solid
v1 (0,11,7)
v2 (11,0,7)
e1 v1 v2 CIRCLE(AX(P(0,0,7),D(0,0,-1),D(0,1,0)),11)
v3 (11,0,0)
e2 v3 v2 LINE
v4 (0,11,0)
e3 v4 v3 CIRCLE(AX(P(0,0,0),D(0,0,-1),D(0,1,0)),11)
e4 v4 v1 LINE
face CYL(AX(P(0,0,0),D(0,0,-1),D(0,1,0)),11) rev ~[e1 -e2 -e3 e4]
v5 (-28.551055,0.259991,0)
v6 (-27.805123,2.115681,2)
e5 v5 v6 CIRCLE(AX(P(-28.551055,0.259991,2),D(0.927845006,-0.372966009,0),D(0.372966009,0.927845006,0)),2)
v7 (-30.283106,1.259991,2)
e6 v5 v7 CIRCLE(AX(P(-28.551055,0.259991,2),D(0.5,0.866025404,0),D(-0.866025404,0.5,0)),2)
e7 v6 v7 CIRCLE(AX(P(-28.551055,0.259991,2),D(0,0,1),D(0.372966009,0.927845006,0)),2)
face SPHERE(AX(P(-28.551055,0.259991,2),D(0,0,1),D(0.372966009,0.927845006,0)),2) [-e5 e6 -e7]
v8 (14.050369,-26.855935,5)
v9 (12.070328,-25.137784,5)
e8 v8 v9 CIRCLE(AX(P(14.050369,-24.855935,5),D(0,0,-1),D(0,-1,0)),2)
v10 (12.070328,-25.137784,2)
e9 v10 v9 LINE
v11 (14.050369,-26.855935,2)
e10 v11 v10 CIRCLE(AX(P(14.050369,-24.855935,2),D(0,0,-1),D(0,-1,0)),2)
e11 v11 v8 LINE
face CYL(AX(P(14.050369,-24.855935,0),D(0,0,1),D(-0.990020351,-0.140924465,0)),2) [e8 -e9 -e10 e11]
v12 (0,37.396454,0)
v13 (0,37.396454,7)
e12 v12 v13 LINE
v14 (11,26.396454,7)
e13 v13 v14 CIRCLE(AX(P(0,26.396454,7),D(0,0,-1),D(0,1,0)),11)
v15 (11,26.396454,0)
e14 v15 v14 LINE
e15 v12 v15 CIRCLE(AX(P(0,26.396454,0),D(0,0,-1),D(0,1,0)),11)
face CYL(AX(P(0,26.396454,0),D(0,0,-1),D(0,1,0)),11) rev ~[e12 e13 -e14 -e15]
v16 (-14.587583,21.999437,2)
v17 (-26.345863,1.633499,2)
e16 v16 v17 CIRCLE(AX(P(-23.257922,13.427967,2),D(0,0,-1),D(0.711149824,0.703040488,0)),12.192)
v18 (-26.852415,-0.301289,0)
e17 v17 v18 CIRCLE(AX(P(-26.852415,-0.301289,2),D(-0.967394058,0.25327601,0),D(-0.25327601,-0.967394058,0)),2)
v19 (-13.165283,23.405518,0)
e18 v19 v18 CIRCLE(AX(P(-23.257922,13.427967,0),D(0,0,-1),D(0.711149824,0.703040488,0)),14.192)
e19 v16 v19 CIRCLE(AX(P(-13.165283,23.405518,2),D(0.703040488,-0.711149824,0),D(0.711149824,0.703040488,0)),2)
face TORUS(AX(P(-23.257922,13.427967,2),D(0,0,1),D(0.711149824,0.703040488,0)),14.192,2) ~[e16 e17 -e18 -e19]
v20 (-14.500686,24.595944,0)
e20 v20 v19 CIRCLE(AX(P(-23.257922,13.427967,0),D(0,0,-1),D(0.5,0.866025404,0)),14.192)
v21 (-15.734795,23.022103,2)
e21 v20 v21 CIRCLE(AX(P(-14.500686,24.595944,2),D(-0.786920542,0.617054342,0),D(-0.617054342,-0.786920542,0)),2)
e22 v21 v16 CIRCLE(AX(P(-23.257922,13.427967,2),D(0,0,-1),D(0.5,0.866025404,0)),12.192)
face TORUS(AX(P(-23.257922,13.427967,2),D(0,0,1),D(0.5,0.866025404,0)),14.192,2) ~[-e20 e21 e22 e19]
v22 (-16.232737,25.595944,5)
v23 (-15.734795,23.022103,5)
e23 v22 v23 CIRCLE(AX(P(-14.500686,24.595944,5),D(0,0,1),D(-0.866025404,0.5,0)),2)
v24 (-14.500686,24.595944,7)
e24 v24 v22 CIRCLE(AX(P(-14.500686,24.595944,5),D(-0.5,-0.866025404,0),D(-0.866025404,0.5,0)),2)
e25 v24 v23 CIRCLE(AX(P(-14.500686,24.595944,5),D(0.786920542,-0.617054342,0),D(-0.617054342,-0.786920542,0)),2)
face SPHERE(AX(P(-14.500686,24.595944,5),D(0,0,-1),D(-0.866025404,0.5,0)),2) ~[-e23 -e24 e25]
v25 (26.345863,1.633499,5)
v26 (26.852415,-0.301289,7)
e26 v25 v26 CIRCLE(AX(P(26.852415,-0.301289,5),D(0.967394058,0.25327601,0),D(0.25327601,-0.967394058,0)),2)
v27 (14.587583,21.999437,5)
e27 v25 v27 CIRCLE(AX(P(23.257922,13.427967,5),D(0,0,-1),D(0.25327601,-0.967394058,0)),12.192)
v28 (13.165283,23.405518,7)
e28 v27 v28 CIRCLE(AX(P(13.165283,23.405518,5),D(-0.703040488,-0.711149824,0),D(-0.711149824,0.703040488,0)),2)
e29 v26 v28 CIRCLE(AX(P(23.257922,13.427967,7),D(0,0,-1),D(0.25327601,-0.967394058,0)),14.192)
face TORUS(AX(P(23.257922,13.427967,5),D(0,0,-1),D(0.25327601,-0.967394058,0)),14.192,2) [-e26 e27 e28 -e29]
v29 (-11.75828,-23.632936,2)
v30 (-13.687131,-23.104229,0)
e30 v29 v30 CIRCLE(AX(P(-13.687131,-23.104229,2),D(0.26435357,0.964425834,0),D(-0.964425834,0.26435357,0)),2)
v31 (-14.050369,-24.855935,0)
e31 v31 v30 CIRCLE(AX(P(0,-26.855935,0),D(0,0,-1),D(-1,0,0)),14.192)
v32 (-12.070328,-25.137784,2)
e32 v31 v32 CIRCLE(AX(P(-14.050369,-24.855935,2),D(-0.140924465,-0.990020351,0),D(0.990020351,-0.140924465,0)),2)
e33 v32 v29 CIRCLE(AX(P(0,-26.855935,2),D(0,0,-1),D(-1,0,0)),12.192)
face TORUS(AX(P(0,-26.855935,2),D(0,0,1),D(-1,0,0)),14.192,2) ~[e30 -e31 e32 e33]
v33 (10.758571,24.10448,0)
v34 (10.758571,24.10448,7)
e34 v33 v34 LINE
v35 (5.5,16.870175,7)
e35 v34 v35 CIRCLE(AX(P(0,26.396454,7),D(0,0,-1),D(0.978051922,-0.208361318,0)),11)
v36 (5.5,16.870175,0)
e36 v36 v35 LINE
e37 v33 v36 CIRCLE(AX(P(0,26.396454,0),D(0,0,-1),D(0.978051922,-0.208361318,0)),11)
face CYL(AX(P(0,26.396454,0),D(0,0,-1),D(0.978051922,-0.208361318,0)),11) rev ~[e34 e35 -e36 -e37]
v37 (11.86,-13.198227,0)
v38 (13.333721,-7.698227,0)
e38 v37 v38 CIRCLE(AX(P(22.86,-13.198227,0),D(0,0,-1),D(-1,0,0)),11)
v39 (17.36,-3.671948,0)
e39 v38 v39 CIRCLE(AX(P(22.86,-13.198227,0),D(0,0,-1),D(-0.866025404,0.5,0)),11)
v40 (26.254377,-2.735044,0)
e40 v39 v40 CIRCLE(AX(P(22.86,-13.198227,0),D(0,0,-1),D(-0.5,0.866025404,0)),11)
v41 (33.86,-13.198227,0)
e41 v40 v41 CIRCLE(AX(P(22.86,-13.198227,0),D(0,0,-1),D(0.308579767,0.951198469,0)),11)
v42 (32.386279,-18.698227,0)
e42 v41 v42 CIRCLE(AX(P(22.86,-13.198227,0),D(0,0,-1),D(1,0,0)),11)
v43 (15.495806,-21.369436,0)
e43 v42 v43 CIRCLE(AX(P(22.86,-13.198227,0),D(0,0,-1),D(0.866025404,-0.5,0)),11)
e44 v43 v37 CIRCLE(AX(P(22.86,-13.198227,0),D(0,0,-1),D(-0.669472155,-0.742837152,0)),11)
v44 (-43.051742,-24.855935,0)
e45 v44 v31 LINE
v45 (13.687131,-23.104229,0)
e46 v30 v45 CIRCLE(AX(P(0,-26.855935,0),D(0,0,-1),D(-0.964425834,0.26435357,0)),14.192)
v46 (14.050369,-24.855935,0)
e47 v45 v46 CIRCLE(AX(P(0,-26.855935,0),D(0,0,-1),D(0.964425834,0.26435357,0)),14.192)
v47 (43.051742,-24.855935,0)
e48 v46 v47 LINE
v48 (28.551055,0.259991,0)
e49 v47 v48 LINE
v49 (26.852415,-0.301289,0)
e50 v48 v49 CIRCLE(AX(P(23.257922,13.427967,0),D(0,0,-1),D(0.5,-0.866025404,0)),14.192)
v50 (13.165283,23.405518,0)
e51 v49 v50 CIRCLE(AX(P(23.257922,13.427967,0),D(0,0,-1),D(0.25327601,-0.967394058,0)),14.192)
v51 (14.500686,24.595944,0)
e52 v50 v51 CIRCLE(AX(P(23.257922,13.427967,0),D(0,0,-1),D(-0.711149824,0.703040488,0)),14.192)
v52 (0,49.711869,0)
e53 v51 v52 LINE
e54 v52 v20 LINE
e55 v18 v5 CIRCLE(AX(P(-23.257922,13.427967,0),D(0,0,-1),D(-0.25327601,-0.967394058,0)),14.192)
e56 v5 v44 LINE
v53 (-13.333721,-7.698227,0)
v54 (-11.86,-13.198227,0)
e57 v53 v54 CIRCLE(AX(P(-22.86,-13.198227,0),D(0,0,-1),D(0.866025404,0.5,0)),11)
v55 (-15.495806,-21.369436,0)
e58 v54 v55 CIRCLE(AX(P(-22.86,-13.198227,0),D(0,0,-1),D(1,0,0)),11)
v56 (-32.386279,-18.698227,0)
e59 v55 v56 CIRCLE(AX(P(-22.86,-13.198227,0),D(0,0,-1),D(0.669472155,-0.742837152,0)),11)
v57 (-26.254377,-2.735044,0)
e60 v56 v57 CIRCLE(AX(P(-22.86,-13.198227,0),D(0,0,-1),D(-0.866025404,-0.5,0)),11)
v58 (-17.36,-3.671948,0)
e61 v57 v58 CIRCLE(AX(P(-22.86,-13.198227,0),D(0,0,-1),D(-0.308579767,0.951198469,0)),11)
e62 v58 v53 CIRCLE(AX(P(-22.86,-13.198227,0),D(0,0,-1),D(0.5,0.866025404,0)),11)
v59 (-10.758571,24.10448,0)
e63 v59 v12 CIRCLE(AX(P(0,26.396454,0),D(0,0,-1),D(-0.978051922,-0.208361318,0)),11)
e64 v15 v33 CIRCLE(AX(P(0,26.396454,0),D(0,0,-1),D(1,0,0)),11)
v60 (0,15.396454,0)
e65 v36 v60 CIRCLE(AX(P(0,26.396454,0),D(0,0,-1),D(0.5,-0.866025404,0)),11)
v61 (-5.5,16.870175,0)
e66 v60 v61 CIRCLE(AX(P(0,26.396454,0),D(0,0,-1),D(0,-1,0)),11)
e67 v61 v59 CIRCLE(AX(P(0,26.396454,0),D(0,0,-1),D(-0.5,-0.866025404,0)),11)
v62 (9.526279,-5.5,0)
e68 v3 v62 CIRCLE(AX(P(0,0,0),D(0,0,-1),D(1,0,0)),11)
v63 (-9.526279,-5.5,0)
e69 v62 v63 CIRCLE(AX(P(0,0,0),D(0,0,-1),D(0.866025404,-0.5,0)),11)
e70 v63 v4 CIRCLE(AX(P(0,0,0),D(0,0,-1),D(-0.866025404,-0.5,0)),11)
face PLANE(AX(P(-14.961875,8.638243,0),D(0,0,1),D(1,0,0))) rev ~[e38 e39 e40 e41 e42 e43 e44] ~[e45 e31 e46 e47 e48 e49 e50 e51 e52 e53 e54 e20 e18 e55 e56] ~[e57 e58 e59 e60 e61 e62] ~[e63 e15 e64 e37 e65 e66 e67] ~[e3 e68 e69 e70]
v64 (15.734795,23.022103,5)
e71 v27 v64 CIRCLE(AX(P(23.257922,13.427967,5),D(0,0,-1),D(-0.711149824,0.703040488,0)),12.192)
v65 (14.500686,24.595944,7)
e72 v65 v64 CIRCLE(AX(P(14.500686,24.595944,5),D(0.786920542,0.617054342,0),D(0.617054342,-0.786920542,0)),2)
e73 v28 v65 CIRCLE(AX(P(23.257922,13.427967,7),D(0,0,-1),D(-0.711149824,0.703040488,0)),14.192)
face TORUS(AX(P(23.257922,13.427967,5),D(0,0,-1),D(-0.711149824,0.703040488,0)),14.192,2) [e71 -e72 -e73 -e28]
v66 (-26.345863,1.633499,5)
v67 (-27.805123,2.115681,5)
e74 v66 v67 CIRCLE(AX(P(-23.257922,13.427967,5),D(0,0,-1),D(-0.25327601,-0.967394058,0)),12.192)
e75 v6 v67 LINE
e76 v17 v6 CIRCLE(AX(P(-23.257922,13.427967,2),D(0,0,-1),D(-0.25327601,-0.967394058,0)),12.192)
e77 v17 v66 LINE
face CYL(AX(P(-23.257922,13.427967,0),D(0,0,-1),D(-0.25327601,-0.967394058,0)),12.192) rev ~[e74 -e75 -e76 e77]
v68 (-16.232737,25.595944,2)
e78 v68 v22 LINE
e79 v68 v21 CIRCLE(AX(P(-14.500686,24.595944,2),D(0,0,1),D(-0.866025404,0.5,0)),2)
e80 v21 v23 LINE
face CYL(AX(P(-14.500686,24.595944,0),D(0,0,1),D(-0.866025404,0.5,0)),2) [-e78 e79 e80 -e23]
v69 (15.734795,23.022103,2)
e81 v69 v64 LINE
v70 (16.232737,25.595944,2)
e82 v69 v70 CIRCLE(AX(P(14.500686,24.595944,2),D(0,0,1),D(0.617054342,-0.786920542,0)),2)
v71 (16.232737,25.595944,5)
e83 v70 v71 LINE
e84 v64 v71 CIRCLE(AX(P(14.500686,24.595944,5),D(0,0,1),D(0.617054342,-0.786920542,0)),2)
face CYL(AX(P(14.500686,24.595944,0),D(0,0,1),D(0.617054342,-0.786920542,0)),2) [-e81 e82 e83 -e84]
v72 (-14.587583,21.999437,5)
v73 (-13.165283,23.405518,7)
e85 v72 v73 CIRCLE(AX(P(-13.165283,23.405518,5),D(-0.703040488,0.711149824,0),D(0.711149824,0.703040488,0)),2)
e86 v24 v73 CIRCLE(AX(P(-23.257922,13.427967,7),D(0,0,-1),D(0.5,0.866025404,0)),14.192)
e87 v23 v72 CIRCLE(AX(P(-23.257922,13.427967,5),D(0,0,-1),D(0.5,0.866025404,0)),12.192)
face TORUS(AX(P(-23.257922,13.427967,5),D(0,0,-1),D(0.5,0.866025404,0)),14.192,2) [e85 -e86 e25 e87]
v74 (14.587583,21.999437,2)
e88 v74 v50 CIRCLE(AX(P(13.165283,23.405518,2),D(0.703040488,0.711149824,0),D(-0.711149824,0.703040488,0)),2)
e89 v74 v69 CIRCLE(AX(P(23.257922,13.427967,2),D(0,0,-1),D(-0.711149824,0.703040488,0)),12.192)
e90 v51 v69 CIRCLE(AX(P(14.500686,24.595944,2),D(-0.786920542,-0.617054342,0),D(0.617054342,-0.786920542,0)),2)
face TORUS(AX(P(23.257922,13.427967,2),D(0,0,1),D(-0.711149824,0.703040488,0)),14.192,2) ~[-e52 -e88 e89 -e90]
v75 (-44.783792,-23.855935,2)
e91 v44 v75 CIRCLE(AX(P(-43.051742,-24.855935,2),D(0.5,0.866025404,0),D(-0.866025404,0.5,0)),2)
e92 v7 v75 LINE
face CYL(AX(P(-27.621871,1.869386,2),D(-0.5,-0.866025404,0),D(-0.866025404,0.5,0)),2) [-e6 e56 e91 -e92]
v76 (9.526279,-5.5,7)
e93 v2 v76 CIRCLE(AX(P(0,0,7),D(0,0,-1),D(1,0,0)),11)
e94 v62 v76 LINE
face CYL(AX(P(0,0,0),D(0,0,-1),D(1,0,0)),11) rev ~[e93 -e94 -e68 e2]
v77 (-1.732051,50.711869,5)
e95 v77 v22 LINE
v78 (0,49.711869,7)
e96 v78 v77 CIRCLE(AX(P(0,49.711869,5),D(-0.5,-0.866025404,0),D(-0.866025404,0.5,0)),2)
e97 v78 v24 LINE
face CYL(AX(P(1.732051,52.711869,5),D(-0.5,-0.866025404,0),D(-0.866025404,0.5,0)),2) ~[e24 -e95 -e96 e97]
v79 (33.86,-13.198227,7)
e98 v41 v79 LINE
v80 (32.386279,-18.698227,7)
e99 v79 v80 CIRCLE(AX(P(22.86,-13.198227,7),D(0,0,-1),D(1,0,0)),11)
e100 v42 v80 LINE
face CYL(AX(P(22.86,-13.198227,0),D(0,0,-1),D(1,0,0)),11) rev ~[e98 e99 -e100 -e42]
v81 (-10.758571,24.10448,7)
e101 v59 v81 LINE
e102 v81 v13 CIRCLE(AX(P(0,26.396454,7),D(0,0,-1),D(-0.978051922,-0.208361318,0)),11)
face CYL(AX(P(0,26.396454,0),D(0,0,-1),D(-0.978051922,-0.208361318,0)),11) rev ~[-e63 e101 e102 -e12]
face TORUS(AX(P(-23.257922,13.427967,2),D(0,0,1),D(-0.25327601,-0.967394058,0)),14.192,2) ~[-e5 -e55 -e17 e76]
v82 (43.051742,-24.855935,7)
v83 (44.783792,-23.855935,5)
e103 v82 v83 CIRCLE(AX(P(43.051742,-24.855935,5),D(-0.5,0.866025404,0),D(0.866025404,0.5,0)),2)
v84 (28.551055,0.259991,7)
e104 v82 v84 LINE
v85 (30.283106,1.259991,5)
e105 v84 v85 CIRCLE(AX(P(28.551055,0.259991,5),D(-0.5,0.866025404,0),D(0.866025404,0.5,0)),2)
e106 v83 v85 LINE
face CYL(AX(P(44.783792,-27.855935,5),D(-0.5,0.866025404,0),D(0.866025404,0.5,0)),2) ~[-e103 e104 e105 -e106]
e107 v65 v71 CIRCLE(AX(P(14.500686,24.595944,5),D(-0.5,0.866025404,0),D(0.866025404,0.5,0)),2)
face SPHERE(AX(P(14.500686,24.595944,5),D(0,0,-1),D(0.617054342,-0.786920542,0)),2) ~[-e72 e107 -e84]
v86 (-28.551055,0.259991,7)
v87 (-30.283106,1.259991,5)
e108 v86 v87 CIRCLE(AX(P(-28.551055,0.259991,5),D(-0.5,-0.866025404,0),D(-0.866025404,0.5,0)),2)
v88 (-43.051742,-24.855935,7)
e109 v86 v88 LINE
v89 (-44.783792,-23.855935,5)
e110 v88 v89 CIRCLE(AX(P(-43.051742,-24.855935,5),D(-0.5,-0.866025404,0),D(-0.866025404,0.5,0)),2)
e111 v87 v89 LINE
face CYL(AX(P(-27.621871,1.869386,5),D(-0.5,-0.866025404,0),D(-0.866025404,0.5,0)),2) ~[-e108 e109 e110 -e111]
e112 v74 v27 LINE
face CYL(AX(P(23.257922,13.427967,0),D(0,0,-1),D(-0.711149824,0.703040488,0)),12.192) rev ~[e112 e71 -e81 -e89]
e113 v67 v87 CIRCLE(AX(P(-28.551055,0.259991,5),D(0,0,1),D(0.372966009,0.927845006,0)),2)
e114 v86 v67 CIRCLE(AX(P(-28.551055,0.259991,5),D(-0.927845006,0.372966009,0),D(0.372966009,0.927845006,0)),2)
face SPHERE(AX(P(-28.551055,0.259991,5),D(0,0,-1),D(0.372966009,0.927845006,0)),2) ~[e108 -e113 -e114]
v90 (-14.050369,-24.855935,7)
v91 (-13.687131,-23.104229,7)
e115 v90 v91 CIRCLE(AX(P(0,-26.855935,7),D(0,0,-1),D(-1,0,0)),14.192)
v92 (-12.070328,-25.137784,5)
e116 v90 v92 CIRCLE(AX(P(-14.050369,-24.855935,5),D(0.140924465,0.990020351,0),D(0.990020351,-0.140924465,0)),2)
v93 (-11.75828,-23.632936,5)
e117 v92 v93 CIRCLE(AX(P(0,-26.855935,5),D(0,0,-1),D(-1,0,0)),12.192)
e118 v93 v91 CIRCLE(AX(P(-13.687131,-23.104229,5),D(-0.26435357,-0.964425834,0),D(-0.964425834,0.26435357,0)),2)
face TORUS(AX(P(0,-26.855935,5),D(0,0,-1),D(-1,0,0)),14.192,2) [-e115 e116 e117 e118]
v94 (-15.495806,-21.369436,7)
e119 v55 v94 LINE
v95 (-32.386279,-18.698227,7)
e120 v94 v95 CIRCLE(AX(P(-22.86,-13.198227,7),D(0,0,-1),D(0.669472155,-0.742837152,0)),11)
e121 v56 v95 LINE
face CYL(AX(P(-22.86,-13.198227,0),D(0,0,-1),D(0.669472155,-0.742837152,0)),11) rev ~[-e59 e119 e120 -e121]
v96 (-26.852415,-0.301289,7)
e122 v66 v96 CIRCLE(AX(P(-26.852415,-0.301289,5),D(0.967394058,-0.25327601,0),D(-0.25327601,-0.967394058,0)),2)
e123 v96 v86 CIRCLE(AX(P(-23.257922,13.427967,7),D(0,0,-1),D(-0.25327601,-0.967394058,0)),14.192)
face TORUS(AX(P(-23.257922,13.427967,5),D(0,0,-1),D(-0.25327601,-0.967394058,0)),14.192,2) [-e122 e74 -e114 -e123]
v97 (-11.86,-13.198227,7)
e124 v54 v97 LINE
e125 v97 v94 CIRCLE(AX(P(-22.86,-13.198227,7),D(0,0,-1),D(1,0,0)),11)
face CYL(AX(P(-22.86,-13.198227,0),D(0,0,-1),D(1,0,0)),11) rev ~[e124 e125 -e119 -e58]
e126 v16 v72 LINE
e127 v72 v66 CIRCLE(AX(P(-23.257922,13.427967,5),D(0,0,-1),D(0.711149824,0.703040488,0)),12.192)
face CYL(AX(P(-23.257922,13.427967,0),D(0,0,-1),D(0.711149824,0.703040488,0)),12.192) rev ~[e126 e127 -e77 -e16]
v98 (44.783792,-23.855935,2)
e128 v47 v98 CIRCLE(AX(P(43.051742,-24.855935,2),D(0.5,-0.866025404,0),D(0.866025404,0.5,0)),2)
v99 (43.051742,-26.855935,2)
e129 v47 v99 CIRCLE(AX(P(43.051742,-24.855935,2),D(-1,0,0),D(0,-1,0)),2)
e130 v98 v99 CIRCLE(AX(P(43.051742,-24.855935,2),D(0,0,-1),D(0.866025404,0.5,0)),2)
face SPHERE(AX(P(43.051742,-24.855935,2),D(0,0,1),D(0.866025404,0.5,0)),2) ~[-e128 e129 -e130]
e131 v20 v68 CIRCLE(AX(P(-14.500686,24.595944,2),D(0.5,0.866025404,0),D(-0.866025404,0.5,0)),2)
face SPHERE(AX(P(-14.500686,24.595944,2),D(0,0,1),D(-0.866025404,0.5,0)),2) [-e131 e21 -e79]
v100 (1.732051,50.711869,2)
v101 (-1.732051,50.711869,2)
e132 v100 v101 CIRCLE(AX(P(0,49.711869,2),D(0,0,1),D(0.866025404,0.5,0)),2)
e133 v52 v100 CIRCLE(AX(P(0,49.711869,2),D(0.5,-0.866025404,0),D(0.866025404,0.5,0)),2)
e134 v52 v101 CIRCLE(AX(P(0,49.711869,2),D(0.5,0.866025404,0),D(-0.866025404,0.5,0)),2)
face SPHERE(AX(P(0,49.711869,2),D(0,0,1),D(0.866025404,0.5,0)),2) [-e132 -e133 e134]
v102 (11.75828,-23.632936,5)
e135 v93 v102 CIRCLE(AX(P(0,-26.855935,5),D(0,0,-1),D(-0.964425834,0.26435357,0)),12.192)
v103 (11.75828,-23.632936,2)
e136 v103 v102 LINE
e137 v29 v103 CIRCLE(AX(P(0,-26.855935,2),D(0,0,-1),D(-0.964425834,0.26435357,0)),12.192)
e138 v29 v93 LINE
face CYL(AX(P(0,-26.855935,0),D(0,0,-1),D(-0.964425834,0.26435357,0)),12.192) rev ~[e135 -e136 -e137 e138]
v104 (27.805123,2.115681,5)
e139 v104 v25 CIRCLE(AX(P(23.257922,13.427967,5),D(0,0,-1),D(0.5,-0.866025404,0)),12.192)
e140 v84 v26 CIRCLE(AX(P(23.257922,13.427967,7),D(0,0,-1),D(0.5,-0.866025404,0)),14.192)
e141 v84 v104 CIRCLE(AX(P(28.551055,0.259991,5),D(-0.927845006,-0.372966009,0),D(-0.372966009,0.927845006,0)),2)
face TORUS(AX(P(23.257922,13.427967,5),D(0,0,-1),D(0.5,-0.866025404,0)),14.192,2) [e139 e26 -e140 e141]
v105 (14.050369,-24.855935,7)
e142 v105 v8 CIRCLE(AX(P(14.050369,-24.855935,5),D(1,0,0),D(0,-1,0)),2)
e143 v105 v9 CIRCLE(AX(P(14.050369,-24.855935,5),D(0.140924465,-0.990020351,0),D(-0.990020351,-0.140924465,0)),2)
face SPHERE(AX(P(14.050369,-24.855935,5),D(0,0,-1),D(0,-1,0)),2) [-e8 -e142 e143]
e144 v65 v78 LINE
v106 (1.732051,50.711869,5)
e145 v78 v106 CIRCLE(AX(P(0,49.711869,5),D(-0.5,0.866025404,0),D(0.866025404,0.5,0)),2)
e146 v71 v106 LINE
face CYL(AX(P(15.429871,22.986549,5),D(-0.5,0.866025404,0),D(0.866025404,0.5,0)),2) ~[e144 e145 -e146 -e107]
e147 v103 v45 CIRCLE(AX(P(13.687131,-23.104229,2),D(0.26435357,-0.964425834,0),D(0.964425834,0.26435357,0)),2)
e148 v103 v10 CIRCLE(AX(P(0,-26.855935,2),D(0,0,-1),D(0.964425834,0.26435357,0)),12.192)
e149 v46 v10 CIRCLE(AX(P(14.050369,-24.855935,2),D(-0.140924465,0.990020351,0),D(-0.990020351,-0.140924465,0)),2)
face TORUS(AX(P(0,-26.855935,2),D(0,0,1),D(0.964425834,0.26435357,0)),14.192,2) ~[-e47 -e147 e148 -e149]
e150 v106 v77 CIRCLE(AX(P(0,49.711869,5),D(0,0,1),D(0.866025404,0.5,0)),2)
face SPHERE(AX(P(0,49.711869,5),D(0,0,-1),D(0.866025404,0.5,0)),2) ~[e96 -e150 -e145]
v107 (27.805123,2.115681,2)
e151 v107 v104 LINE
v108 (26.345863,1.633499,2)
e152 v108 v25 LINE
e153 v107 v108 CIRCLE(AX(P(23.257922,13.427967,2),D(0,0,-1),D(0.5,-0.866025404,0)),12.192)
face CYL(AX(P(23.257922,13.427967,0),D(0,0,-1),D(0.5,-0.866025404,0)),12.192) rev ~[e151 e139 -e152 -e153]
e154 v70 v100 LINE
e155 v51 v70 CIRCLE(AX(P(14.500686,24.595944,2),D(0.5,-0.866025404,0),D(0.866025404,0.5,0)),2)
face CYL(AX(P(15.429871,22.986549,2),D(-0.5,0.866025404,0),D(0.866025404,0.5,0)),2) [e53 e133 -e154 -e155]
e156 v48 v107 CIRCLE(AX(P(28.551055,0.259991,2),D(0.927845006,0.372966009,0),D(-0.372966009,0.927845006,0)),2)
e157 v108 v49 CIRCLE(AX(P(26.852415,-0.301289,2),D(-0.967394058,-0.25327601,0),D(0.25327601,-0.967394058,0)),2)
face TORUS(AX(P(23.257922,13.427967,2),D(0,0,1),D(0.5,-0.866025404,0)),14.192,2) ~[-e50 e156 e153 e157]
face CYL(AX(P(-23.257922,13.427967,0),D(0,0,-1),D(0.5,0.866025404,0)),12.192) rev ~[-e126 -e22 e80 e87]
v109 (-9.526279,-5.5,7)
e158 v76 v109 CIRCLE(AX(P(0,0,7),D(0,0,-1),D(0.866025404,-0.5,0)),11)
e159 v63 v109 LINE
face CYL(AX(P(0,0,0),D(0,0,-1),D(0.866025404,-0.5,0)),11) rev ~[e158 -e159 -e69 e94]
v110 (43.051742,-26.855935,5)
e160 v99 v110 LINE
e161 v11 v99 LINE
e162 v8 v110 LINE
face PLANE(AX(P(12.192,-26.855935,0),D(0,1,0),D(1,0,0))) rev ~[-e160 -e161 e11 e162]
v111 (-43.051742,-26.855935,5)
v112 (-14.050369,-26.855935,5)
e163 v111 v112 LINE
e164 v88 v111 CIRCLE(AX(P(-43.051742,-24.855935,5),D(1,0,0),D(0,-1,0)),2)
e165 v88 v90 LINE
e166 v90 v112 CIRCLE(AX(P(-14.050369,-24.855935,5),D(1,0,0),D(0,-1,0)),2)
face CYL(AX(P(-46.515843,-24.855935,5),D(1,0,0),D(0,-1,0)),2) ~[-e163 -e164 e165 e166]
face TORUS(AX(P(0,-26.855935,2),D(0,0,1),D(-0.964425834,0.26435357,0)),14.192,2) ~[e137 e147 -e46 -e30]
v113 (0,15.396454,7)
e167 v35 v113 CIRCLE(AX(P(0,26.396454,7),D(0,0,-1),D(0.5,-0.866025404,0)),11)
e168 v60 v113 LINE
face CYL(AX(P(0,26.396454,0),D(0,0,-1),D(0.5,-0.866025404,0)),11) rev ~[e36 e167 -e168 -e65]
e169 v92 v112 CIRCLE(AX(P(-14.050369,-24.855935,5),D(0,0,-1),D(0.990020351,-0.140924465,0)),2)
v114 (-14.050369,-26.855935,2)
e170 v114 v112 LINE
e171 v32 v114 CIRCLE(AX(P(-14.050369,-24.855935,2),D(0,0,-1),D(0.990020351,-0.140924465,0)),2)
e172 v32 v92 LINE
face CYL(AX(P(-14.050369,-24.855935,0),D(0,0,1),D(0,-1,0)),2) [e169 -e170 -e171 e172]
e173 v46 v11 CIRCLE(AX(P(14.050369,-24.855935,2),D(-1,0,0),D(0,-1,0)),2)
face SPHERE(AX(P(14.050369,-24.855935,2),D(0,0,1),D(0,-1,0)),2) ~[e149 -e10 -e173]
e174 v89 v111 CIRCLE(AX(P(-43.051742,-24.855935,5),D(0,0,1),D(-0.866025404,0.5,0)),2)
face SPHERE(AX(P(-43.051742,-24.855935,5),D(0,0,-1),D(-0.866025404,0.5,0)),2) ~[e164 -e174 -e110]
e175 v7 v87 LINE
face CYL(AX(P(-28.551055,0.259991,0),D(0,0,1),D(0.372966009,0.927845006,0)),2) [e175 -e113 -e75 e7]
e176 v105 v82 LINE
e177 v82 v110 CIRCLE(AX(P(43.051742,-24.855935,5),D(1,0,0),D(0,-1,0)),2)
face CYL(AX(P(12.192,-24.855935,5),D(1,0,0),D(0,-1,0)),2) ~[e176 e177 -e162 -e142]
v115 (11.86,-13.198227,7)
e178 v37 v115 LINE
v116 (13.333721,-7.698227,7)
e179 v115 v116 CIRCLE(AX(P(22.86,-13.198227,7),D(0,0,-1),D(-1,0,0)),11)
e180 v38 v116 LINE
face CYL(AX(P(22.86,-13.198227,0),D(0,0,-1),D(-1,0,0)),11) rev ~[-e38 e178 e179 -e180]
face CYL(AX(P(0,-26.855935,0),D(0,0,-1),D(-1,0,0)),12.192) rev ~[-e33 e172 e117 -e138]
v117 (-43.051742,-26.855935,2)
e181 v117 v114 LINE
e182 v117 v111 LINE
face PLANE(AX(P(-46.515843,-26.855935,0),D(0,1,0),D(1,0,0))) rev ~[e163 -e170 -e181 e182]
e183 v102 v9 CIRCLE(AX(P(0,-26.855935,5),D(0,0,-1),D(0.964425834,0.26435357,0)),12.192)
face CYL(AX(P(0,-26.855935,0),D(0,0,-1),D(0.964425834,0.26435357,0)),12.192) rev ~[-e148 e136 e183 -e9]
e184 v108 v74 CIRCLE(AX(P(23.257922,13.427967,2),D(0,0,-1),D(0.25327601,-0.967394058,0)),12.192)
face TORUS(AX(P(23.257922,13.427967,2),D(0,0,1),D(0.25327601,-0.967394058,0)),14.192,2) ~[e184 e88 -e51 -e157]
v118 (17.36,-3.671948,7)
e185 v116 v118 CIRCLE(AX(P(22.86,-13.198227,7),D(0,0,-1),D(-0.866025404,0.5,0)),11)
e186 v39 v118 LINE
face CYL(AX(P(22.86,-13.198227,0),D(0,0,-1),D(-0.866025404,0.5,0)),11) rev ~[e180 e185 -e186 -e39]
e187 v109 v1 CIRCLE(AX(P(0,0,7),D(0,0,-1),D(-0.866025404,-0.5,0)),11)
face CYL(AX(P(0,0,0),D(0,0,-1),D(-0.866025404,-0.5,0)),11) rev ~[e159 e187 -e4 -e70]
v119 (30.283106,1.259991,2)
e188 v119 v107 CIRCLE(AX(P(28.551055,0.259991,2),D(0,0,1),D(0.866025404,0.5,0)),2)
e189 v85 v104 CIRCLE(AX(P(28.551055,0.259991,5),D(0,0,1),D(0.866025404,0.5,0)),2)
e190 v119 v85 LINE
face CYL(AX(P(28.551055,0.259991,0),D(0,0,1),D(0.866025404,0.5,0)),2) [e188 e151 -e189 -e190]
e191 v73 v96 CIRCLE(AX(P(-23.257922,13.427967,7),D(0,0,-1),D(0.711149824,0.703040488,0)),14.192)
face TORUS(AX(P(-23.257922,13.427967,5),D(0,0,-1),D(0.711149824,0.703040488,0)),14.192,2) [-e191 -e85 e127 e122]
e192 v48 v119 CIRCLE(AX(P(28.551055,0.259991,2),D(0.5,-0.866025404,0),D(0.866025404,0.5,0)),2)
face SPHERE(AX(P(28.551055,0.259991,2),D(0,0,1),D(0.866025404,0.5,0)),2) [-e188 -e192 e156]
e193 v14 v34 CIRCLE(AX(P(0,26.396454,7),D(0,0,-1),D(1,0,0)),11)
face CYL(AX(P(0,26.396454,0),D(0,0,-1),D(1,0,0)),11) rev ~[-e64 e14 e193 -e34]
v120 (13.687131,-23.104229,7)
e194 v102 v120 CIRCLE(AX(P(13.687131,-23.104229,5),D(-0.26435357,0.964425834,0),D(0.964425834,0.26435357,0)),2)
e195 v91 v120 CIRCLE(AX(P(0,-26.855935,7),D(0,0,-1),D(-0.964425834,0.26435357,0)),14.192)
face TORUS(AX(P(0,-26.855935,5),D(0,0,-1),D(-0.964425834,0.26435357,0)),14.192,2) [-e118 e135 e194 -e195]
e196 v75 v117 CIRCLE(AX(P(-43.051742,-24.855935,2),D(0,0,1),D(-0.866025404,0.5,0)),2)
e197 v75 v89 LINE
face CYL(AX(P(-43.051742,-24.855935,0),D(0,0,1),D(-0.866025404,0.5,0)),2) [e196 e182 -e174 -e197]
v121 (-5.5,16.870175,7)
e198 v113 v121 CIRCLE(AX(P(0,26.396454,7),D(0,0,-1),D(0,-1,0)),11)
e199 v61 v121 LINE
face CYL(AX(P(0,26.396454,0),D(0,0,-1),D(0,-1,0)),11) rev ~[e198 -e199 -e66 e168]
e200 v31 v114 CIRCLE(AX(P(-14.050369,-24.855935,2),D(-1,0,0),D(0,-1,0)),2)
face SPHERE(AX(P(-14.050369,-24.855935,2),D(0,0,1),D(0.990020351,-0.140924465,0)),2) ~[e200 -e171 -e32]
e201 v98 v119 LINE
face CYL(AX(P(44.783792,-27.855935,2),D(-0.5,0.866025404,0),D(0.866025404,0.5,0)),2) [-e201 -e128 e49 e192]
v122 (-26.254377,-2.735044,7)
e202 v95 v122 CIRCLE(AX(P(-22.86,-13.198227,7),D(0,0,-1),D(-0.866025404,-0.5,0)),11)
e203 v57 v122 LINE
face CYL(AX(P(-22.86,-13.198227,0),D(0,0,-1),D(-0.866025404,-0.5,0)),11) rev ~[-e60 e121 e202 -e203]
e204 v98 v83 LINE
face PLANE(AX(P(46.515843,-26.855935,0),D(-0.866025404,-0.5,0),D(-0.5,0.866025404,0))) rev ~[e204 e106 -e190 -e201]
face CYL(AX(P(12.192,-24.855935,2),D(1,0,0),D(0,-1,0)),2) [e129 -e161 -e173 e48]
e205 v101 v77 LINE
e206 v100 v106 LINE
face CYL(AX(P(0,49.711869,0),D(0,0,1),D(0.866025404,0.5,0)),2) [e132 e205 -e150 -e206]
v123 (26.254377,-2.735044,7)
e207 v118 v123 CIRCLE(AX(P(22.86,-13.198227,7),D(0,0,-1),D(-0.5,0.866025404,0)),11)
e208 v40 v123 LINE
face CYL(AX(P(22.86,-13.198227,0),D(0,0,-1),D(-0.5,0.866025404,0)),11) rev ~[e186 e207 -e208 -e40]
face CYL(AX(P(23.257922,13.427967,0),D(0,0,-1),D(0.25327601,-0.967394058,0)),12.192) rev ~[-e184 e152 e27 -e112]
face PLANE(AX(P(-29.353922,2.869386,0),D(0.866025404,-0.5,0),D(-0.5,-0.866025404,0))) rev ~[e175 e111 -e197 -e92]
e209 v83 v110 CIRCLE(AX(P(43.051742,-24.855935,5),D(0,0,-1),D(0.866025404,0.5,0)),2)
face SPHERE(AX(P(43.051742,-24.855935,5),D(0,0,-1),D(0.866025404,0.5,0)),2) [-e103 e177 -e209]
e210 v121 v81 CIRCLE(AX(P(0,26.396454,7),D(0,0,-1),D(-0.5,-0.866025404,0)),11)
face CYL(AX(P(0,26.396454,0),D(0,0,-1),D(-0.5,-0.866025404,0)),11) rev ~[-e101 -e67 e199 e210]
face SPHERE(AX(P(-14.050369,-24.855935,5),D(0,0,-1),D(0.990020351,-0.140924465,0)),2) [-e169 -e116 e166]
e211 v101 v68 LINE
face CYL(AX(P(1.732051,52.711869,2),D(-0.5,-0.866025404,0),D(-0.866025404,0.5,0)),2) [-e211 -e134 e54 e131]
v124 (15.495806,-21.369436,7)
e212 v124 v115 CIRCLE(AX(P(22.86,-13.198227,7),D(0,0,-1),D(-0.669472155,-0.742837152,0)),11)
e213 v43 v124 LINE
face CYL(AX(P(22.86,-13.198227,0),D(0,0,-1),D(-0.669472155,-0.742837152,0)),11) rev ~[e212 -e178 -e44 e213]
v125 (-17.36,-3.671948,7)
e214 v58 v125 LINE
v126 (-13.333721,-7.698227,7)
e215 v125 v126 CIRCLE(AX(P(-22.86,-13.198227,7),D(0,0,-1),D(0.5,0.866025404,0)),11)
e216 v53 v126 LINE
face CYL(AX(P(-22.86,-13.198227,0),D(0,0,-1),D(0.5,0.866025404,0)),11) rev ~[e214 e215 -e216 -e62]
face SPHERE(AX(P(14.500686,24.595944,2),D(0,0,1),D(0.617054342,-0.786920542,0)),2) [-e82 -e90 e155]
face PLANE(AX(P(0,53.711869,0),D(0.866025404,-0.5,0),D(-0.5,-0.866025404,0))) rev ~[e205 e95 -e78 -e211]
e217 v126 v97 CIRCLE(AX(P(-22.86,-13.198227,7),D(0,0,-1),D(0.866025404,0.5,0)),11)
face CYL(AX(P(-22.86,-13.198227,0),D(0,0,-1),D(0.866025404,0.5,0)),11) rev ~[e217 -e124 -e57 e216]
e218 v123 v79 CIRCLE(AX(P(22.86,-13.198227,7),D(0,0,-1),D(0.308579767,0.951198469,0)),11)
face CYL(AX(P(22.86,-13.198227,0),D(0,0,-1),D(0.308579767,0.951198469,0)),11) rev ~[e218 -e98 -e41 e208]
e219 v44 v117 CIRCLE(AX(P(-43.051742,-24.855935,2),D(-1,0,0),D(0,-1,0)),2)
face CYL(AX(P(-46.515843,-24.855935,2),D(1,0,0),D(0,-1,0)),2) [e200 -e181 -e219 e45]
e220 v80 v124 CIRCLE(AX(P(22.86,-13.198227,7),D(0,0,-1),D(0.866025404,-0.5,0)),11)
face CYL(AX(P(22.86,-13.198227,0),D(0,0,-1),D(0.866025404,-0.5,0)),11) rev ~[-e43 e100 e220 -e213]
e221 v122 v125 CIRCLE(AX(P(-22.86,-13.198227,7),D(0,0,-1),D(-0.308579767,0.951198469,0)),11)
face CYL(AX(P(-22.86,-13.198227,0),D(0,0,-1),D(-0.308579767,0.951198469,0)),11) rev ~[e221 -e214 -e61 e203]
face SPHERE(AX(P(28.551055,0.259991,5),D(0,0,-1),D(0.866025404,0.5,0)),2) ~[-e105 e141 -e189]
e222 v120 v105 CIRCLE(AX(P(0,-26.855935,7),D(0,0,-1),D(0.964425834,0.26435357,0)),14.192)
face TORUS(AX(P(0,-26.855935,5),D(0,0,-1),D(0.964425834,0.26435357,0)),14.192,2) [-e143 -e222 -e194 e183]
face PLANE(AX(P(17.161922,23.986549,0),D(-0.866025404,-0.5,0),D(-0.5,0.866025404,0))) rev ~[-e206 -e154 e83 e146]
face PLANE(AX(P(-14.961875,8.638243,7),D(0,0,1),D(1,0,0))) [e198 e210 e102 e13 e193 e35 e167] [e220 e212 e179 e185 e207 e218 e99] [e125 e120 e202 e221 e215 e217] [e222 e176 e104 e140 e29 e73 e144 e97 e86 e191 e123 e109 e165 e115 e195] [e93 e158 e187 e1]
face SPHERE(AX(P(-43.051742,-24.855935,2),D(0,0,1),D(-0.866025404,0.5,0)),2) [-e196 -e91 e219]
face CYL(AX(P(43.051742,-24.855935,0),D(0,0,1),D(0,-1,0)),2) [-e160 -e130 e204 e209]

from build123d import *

# Parameters (mm, degrees)
F1_DEPTH = 7
F2_R     = 2


with BuildPart() as f1:
    # F0 (on Top) → F1 (new body)
    with BuildSketch(Plane.XY):
        with BuildLine():
            Line((-16.11, -1.5068842026), (-6.75, 14.7051113563))
            ThreePointArc((-6.75, 14.7051113563), (-10.723450587, 18.1953807491), (-13.0511507063, 22.9442861131))
            ThreePointArc((-13.0511507063, 22.9442861131), (-13.8274395377, 22.4849886776), (-14.5875829235, 21.9994369121))
            ThreePointArc((-14.5875829235, 21.9994369121), (-12.6993398587, 7.3319672859), (-26.3458626966, 1.6334989355))
            ThreePointArc((-26.3458626966, 1.6334989355), (-26.3862911674, 0.7324195701), (-26.3959099988, -0.1695149963))
            ThreePointArc((-26.3959099988, -0.1695149963), (-21.1193872538, 0.18909025), (-16.11, -1.5068842026))
        make_face()
        with BuildLine():
            ThreePointArc((13.3447592925, -22.7747711168), (10.3959366667, -18.3844709991), (9.36, -13.1982271537))
            Line((9.36, -13.1982271537), (-9.36, -13.1982271537))
            ThreePointArc((-9.36, -13.1982271537), (-10.3959366667, -18.3844709991), (-13.3447592925, -22.7747711168))
            ThreePointArc((-13.3447592925, -22.7747711168), (-12.5588516298, -23.2174082477), (-11.7582797731, -23.6329358476))
            ThreePointArc((-11.7582797731, -23.6329358476), (0, -14.6639345718), (11.7582797731, -23.6329358476))
            ThreePointArc((11.7582797731, -23.6329358476), (12.5588516298, -23.2174082477), (13.3447592925, -22.7747711168))
        make_face()
        with BuildLine():
            Line((11.1686570489, -6.4482271537), (9.5262794416, -5.5))
            ThreePointArc((9.5262794416, -5.5), (0, -11), (-9.5262794416, -5.5))
            Line((-9.5262794416, -5.5), (-11.1686570489, -6.4482271537))
            ThreePointArc((-11.1686570489, -6.4482271537), (-9.8200013451, -9.7041700448), (-9.36, -13.1982271537))
            Line((-9.36, -13.1982271537), (9.36, -13.1982271537))
            ThreePointArc((9.36, -13.1982271537), (9.8200013451, -9.7041700448), (11.1686570489, -6.4482271537))
        make_face()
        with BuildLine():
            ThreePointArc((0, 11), (7.7781745931, 7.7781745931), (11, 0))
            ThreePointArc((11, 0), (10.6251840892, -2.8470094961), (9.5262794416, -5.5))
            Line((9.5262794416, -5.5), (11.1686570489, -6.4482271537))
            ThreePointArc((11.1686570489, -6.4482271537), (13.314058454, -3.6522856077), (16.11, -1.5068842026))
            Line((16.11, -1.5068842026), (6.75, 14.7051113563))
            ThreePointArc((6.75, 14.7051113563), (3.4940571089, 13.3564556524), (0, 12.8964543073))
            Line((0, 12.8964543073), (0, 11))
        make_face()
        with BuildLine():
            ThreePointArc((13.0511507063, 22.9442861131), (10.723450587, 18.1953807491), (6.75, 14.7051113563))
            Line((6.75, 14.7051113563), (16.11, -1.5068842026))
            ThreePointArc((16.11, -1.5068842026), (21.1193872538, 0.18909025), (26.3959099988, -0.1695149963))
            ThreePointArc((26.3959099988, -0.1695149963), (26.3963182299, -0.0847579351), (26.3964543073, 0))
            ThreePointArc((26.3964543073, 0), (26.3838033731, 0.817141096), (26.3458626966, 1.6334989355))
            ThreePointArc((26.3458626966, 1.6334989355), (12.6993398587, 7.3319672859), (14.5875829235, 21.9994369121))
            ThreePointArc((14.5875829235, 21.9994369121), (13.8274395377, 22.4849886776), (13.0511507063, 22.9442861131))
        make_face()
        with BuildLine():
            ThreePointArc((26.3959099988, -0.1695149963), (21.1193872538, 0.18909025), (16.11, -1.5068842026))
            Line((16.11, -1.5068842026), (17.36, -3.671947712))
            ThreePointArc((17.36, -3.671947712), (21.7076724667, -2.2587508748), (26.2543774322, -2.7350439933))
            ThreePointArc((26.2543774322, -2.7350439933), (26.3563782869, -1.4540026127), (26.3959099988, -0.1695149963))
        make_face()
        with BuildLine():
            ThreePointArc((15.4958062948, -21.3694358202), (14.4373923432, -22.0982918418), (13.3447592925, -22.7747711168))
            ThreePointArc((13.3447592925, -22.7747711168), (24.6435899017, -26.5798865075), (34.5513429511, -19.9482271537))
            Line((34.5513429511, -19.9482271537), (32.3862794416, -18.6982271537))
            ThreePointArc((32.3862794416, -18.6982271537), (24.5782818797, -24.0631941293), (15.4958062948, -21.3694358202))
        make_face()
        with BuildLine():
            ThreePointArc((36.36, -13.1982271537), (33.583450587, -4.9971535954), (26.3959099988, -0.1695149963))
            ThreePointArc((26.3959099988, -0.1695149963), (26.3563782869, -1.4540026127), (26.2543774322, -2.7350439933))
            ThreePointArc((26.2543774322, -2.7350439933), (31.7577005949, -6.7305440969), (33.86, -13.1982271537))
            ThreePointArc((33.86, -13.1982271537), (33.4851840892, -16.0452366498), (32.3862794416, -18.6982271537))
            Line((32.3862794416, -18.6982271537), (34.5513429511, -19.9482271537))
            ThreePointArc((34.5513429511, -19.9482271537), (35.8999986549, -16.6922842626), (36.36, -13.1982271537))
        make_face()
        with BuildLine():
            Line((11.86, -13.1982271537), (9.36, -13.1982271537))
            ThreePointArc((9.36, -13.1982271537), (10.3959366667, -18.3844709991), (13.3447592925, -22.7747711168))
            ThreePointArc((13.3447592925, -22.7747711168), (14.4373923432, -22.0982918418), (15.4958062948, -21.3694358202))
            ThreePointArc((15.4958062948, -21.3694358202), (12.8099718717, -17.6700203758), (11.86, -13.1982271537))
        make_face()
        with BuildLine():
            ThreePointArc((-34.5513429511, -19.9482271537), (-24.6435899017, -26.5798865075), (-13.3447592925, -22.7747711168))
            ThreePointArc((-13.3447592925, -22.7747711168), (-14.4373923432, -22.0982918418), (-15.4958062948, -21.3694358202))
            ThreePointArc((-15.4958062948, -21.3694358202), (-24.5782818797, -24.0631941293), (-32.3862794416, -18.6982271537))
            Line((-32.3862794416, -18.6982271537), (-34.5513429511, -19.9482271537))
        make_face()
        with BuildLine():
            ThreePointArc((-26.2543774322, -2.7350439933), (-26.3563782869, -1.4540026127), (-26.3959099988, -0.1695149963))
            ThreePointArc((-26.3959099988, -0.1695149963), (-35.3406518961, -8.0520316416), (-34.5513429511, -19.9482271537))
            Line((-34.5513429511, -19.9482271537), (-32.3862794416, -18.6982271537))
            ThreePointArc((-32.3862794416, -18.6982271537), (-33.128478352, -9.2538194245), (-26.2543774322, -2.7350439933))
        make_face()
        with BuildLine():
            Line((-17.36, -3.671947712), (-16.11, -1.5068842026))
            ThreePointArc((-16.11, -1.5068842026), (-21.1193872538, 0.18909025), (-26.3959099988, -0.1695149963))
            ThreePointArc((-26.3959099988, -0.1695149963), (-26.3563782869, -1.4540026127), (-26.2543774322, -2.7350439933))
            ThreePointArc((-26.2543774322, -2.7350439933), (-21.7076724667, -2.2587508748), (-17.36, -3.671947712))
        make_face()
        with BuildLine():
            ThreePointArc((-13.3447592925, -22.7747711168), (-10.3959366667, -18.3844709991), (-9.36, -13.1982271537))
            Line((-9.36, -13.1982271537), (-11.86, -13.1982271537))
            ThreePointArc((-11.86, -13.1982271537), (-12.8099718717, -17.6700203758), (-15.4958062948, -21.3694358202))
            ThreePointArc((-15.4958062948, -21.3694358202), (-14.4373923432, -22.0982918418), (-13.3447592925, -22.7747711168))
        make_face()
        with BuildLine():
            ThreePointArc((-9.36, -13.1982271537), (-9.8200013451, -9.7041700448), (-11.1686570489, -6.4482271537))
            Line((-11.1686570489, -6.4482271537), (-13.3337205584, -7.6982271537))
            ThreePointArc((-13.3337205584, -7.6982271537), (-12.2348159108, -10.3512176575), (-11.86, -13.1982271537))
            Line((-11.86, -13.1982271537), (-9.36, -13.1982271537))
        make_face()
        with BuildLine():
            Line((-13.3337205584, -7.6982271537), (-11.1686570489, -6.4482271537))
            ThreePointArc((-11.1686570489, -6.4482271537), (-13.314058454, -3.6522856077), (-16.11, -1.5068842026))
            Line((-16.11, -1.5068842026), (-17.36, -3.671947712))
            ThreePointArc((-17.36, -3.671947712), (-15.0818254069, -5.4200525606), (-13.3337205584, -7.6982271537))
        make_face()
        with BuildLine():
            ThreePointArc((-9.5262794416, -5.5), (-9.5262794416, 5.5), (0, 11))
            Line((0, 11), (0, 12.8964543073))
            ThreePointArc((0, 12.8964543073), (-3.4940571089, 13.3564556524), (-6.75, 14.7051113563))
            Line((-6.75, 14.7051113563), (-16.11, -1.5068842026))
            ThreePointArc((-16.11, -1.5068842026), (-13.314058454, -3.6522856077), (-11.1686570489, -6.4482271537))
            Line((-11.1686570489, -6.4482271537), (-9.5262794416, -5.5))
        make_face()
        with BuildLine():
            ThreePointArc((16.11, -1.5068842026), (13.314058454, -3.6522856077), (11.1686570489, -6.4482271537))
            Line((11.1686570489, -6.4482271537), (13.3337205584, -7.6982271537))
            ThreePointArc((13.3337205584, -7.6982271537), (15.0818254069, -5.4200525606), (17.36, -3.671947712))
            Line((17.36, -3.671947712), (16.11, -1.5068842026))
        make_face()
        with BuildLine():
            Line((13.3337205584, -7.6982271537), (11.1686570489, -6.4482271537))
            ThreePointArc((11.1686570489, -6.4482271537), (9.8200013451, -9.7041700448), (9.36, -13.1982271537))
            Line((9.36, -13.1982271537), (11.86, -13.1982271537))
            ThreePointArc((11.86, -13.1982271537), (12.2348159108, -10.3512176575), (13.3337205584, -7.6982271537))
        make_face()
        with BuildLine():
            ThreePointArc((-13.0511507063, 22.9442861131), (-10.723450587, 18.1953807491), (-6.75, 14.7051113563))
            Line((-6.75, 14.7051113563), (-5.5, 16.8701748657))
            ThreePointArc((-5.5, 16.8701748657), (-8.8977005949, 19.9287712506), (-10.7585711375, 24.1044798135))
            ThreePointArc((-10.7585711375, 24.1044798135), (-11.9189859437, 23.5522944546), (-13.0511507063, 22.9442861131))
        make_face()
        with BuildLine():
            ThreePointArc((-6.75, 14.7051113563), (-3.4940571089, 13.3564556524), (0, 12.8964543073))
            Line((0, 12.8964543073), (0, 15.3964543073))
            ThreePointArc((0, 15.3964543073), (-2.8470094961, 15.7712702182), (-5.5, 16.8701748657))
            Line((-5.5, 16.8701748657), (-6.75, 14.7051113563))
        make_face()
        with BuildLine():
            Line((0, 15.3964543073), (0, 12.8964543073))
            ThreePointArc((0, 12.8964543073), (3.4940571089, 13.3564556524), (6.75, 14.7051113563))
            Line((6.75, 14.7051113563), (5.5, 16.8701748657))
            ThreePointArc((5.5, 16.8701748657), (2.8470094961, 15.7712702182), (0, 15.3964543073))
        make_face()
        with BuildLine():
            Line((5.5, 16.8701748657), (6.75, 14.7051113563))
            ThreePointArc((6.75, 14.7051113563), (10.723450587, 18.1953807491), (13.0511507063, 22.9442861131))
            ThreePointArc((13.0511507063, 22.9442861131), (11.9189859437, 23.5522944546), (10.7585711375, 24.1044798135))
            ThreePointArc((10.7585711375, 24.1044798135), (8.8977005949, 19.9287712506), (5.5, 16.8701748657))
        make_face()
        with BuildLine():
            ThreePointArc((10.7585711375, 24.1044798135), (11.9189859437, 23.5522944546), (13.0511507063, 22.9442861131))
            ThreePointArc((13.0511507063, 22.9442861131), (13.3873174037, 24.6558415611), (13.5, 26.3964543073))
            ThreePointArc((13.5, 26.3964543073), (9.545941546, 35.9423958534), (0, 39.8964543073))
            Line((0, 39.8964543073), (0, 37.3964543073))
            ThreePointArc((0, 37.3964543073), (7.7781745931, 34.1746289004), (11, 26.3964543073))
            ThreePointArc((11, 26.3964543073), (10.9394762789, 25.244126774), (10.7585711375, 24.1044798135))
        make_face()
        with BuildLine():
            ThreePointArc((0, 39.8964543073), (-10.6970619944, 34.6319181491), (-13.0511507063, 22.9442861131))
            ThreePointArc((-13.0511507063, 22.9442861131), (-11.9189859437, 23.5522944546), (-10.7585711375, 24.1044798135))
            ThreePointArc((-10.7585711375, 24.1044798135), (-8.5501964724, 33.3170135538), (0, 37.3964543073))
            Line((0, 37.3964543073), (0, 39.8964543073))
        make_face()
        with BuildLine():
            ThreePointArc((13.5, 26.3964543073), (13.3873174037, 24.6558415611), (13.0511507063, 22.9442861131))
            ThreePointArc((13.0511507063, 22.9442861131), (13.8274395377, 22.4849886776), (14.5875829235, 21.9994369121))
            ThreePointArc((14.5875829235, 21.9994369121), (15.8082005826, 23.079211819), (17.1619215816, 23.9865490089))
            Line((17.1619215816, 23.9865490089), (0, 53.7118691437))
            Line((0, 53.7118691437), (0, 39.8964543073))
            ThreePointArc((0, 39.8964543073), (9.545941546, 35.9423958534), (13.5, 26.3964543073))
        make_face()
        with BuildLine():
            ThreePointArc((34.5513429511, -19.9482271537), (24.6435899017, -26.5798865075), (13.3447592925, -22.7747711168))
            ThreePointArc((13.3447592925, -22.7747711168), (12.5588516298, -23.2174082477), (11.7582797731, -23.6329358476))
            ThreePointArc((11.7582797731, -23.6329358476), (12.0830834433, -25.2299092021), (12.192, -26.8559345718))
            Line((12.192, -26.8559345718), (46.5158431632, -26.8559345718))
            Line((46.5158431632, -26.8559345718), (34.5513429511, -19.9482271537))
        make_face()
        with BuildLine():
            ThreePointArc((-34.5513429511, -19.9482271537), (-35.3406518961, -8.0520316416), (-26.3959099988, -0.1695149963))
            ThreePointArc((-26.3959099988, -0.1695149963), (-26.3862911674, 0.7324195701), (-26.3458626966, 1.6334989355))
            ThreePointArc((-26.3458626966, 1.6334989355), (-27.8912840259, 2.1506973831), (-29.3539215816, 2.869385563))
            Line((-29.3539215816, 2.869385563), (-46.5158431632, -26.8559345718))
            Line((-46.5158431632, -26.8559345718), (-34.5513429511, -19.9482271537))
        make_face()
        with BuildLine():
            ThreePointArc((-11.7582797731, -23.6329358476), (-12.5588516298, -23.2174082477), (-13.3447592925, -22.7747711168))
            ThreePointArc((-13.3447592925, -22.7747711168), (-24.6435899017, -26.5798865075), (-34.5513429511, -19.9482271537))
            Line((-34.5513429511, -19.9482271537), (-46.5158431632, -26.8559345718))
            Line((-46.5158431632, -26.8559345718), (-12.192, -26.8559345718))
            ThreePointArc((-12.192, -26.8559345718), (-12.0830834433, -25.2299092021), (-11.7582797731, -23.6329358476))
        make_face()
        with BuildLine():
            ThreePointArc((-14.5875829235, 21.9994369121), (-13.8274395377, 22.4849886776), (-13.0511507063, 22.9442861131))
            ThreePointArc((-13.0511507063, 22.9442861131), (-10.6970619944, 34.6319181491), (0, 39.8964543073))
            Line((0, 39.8964543073), (0, 53.7118691437))
            Line((0, 53.7118691437), (-17.1619215816, 23.9865490089))
            ThreePointArc((-17.1619215816, 23.9865490089), (-15.8082005826, 23.079211819), (-14.5875829235, 21.9994369121))
        make_face()
        with BuildLine():
            ThreePointArc((26.3964543073, 0), (26.3963182299, -0.0847579351), (26.3959099988, -0.1695149963))
            ThreePointArc((26.3959099988, -0.1695149963), (33.583450587, -4.9971535954), (36.36, -13.1982271537))
            ThreePointArc((36.36, -13.1982271537), (35.8999986549, -16.6922842626), (34.5513429511, -19.9482271537))
            Line((34.5513429511, -19.9482271537), (46.5158431632, -26.8559345718))
            Line((46.5158431632, -26.8559345718), (29.3539215816, 2.869385563))
            ThreePointArc((29.3539215816, 2.869385563), (27.8912840259, 2.1506973831), (26.3458626966, 1.6334989355))
            ThreePointArc((26.3458626966, 1.6334989355), (26.3838033731, 0.817141096), (26.3964543073, 0))
        make_face()
    extrude(amount=F1_DEPTH)

    # F2
    f2_edges = [f1.edges().sort_by_distance(p)[0] for p in [
        (46.515843, -26.855935, 3.5),
        (29.353922, 2.869386, 3.5),
        (37.934882, -11.993275, 0),
        (37.934882, -11.993275, 7),
        (17.161922, 23.986549, 3.5),
        (12.69934, 7.331967, 0),
        (12.69934, 7.331967, 7),
        (0, 53.711869, 3.5),
        (8.580961, 38.849209, 0),
        (8.580961, 38.849209, 7),
        (-17.161922, 23.986549, 3.5),
        (-8.580961, 38.849209, 0),
        (-8.580961, 38.849209, 7),
        (-29.353922, 2.869386, 3.5),
        (-12.69934, 7.331967, 0),
        (-12.69934, 7.331967, 7),
        (-46.515843, -26.855935, 3.5),
        (-37.934882, -11.993275, 0),
        (-37.934882, -11.993275, 7),
        (12.192, -26.855935, 3.5),
        (29.353922, -26.855935, 0),
        (29.353922, -26.855935, 7),
        (-12.192, -26.855935, 3.5),
        (0, -14.663935, 0),
        (0, -14.663935, 7),
        (-29.353922, -26.855935, 0),
        (-29.353922, -26.855935, 7),
    ]]
    fillet(f2_edges, radius=F2_R)


solid = f1.part
